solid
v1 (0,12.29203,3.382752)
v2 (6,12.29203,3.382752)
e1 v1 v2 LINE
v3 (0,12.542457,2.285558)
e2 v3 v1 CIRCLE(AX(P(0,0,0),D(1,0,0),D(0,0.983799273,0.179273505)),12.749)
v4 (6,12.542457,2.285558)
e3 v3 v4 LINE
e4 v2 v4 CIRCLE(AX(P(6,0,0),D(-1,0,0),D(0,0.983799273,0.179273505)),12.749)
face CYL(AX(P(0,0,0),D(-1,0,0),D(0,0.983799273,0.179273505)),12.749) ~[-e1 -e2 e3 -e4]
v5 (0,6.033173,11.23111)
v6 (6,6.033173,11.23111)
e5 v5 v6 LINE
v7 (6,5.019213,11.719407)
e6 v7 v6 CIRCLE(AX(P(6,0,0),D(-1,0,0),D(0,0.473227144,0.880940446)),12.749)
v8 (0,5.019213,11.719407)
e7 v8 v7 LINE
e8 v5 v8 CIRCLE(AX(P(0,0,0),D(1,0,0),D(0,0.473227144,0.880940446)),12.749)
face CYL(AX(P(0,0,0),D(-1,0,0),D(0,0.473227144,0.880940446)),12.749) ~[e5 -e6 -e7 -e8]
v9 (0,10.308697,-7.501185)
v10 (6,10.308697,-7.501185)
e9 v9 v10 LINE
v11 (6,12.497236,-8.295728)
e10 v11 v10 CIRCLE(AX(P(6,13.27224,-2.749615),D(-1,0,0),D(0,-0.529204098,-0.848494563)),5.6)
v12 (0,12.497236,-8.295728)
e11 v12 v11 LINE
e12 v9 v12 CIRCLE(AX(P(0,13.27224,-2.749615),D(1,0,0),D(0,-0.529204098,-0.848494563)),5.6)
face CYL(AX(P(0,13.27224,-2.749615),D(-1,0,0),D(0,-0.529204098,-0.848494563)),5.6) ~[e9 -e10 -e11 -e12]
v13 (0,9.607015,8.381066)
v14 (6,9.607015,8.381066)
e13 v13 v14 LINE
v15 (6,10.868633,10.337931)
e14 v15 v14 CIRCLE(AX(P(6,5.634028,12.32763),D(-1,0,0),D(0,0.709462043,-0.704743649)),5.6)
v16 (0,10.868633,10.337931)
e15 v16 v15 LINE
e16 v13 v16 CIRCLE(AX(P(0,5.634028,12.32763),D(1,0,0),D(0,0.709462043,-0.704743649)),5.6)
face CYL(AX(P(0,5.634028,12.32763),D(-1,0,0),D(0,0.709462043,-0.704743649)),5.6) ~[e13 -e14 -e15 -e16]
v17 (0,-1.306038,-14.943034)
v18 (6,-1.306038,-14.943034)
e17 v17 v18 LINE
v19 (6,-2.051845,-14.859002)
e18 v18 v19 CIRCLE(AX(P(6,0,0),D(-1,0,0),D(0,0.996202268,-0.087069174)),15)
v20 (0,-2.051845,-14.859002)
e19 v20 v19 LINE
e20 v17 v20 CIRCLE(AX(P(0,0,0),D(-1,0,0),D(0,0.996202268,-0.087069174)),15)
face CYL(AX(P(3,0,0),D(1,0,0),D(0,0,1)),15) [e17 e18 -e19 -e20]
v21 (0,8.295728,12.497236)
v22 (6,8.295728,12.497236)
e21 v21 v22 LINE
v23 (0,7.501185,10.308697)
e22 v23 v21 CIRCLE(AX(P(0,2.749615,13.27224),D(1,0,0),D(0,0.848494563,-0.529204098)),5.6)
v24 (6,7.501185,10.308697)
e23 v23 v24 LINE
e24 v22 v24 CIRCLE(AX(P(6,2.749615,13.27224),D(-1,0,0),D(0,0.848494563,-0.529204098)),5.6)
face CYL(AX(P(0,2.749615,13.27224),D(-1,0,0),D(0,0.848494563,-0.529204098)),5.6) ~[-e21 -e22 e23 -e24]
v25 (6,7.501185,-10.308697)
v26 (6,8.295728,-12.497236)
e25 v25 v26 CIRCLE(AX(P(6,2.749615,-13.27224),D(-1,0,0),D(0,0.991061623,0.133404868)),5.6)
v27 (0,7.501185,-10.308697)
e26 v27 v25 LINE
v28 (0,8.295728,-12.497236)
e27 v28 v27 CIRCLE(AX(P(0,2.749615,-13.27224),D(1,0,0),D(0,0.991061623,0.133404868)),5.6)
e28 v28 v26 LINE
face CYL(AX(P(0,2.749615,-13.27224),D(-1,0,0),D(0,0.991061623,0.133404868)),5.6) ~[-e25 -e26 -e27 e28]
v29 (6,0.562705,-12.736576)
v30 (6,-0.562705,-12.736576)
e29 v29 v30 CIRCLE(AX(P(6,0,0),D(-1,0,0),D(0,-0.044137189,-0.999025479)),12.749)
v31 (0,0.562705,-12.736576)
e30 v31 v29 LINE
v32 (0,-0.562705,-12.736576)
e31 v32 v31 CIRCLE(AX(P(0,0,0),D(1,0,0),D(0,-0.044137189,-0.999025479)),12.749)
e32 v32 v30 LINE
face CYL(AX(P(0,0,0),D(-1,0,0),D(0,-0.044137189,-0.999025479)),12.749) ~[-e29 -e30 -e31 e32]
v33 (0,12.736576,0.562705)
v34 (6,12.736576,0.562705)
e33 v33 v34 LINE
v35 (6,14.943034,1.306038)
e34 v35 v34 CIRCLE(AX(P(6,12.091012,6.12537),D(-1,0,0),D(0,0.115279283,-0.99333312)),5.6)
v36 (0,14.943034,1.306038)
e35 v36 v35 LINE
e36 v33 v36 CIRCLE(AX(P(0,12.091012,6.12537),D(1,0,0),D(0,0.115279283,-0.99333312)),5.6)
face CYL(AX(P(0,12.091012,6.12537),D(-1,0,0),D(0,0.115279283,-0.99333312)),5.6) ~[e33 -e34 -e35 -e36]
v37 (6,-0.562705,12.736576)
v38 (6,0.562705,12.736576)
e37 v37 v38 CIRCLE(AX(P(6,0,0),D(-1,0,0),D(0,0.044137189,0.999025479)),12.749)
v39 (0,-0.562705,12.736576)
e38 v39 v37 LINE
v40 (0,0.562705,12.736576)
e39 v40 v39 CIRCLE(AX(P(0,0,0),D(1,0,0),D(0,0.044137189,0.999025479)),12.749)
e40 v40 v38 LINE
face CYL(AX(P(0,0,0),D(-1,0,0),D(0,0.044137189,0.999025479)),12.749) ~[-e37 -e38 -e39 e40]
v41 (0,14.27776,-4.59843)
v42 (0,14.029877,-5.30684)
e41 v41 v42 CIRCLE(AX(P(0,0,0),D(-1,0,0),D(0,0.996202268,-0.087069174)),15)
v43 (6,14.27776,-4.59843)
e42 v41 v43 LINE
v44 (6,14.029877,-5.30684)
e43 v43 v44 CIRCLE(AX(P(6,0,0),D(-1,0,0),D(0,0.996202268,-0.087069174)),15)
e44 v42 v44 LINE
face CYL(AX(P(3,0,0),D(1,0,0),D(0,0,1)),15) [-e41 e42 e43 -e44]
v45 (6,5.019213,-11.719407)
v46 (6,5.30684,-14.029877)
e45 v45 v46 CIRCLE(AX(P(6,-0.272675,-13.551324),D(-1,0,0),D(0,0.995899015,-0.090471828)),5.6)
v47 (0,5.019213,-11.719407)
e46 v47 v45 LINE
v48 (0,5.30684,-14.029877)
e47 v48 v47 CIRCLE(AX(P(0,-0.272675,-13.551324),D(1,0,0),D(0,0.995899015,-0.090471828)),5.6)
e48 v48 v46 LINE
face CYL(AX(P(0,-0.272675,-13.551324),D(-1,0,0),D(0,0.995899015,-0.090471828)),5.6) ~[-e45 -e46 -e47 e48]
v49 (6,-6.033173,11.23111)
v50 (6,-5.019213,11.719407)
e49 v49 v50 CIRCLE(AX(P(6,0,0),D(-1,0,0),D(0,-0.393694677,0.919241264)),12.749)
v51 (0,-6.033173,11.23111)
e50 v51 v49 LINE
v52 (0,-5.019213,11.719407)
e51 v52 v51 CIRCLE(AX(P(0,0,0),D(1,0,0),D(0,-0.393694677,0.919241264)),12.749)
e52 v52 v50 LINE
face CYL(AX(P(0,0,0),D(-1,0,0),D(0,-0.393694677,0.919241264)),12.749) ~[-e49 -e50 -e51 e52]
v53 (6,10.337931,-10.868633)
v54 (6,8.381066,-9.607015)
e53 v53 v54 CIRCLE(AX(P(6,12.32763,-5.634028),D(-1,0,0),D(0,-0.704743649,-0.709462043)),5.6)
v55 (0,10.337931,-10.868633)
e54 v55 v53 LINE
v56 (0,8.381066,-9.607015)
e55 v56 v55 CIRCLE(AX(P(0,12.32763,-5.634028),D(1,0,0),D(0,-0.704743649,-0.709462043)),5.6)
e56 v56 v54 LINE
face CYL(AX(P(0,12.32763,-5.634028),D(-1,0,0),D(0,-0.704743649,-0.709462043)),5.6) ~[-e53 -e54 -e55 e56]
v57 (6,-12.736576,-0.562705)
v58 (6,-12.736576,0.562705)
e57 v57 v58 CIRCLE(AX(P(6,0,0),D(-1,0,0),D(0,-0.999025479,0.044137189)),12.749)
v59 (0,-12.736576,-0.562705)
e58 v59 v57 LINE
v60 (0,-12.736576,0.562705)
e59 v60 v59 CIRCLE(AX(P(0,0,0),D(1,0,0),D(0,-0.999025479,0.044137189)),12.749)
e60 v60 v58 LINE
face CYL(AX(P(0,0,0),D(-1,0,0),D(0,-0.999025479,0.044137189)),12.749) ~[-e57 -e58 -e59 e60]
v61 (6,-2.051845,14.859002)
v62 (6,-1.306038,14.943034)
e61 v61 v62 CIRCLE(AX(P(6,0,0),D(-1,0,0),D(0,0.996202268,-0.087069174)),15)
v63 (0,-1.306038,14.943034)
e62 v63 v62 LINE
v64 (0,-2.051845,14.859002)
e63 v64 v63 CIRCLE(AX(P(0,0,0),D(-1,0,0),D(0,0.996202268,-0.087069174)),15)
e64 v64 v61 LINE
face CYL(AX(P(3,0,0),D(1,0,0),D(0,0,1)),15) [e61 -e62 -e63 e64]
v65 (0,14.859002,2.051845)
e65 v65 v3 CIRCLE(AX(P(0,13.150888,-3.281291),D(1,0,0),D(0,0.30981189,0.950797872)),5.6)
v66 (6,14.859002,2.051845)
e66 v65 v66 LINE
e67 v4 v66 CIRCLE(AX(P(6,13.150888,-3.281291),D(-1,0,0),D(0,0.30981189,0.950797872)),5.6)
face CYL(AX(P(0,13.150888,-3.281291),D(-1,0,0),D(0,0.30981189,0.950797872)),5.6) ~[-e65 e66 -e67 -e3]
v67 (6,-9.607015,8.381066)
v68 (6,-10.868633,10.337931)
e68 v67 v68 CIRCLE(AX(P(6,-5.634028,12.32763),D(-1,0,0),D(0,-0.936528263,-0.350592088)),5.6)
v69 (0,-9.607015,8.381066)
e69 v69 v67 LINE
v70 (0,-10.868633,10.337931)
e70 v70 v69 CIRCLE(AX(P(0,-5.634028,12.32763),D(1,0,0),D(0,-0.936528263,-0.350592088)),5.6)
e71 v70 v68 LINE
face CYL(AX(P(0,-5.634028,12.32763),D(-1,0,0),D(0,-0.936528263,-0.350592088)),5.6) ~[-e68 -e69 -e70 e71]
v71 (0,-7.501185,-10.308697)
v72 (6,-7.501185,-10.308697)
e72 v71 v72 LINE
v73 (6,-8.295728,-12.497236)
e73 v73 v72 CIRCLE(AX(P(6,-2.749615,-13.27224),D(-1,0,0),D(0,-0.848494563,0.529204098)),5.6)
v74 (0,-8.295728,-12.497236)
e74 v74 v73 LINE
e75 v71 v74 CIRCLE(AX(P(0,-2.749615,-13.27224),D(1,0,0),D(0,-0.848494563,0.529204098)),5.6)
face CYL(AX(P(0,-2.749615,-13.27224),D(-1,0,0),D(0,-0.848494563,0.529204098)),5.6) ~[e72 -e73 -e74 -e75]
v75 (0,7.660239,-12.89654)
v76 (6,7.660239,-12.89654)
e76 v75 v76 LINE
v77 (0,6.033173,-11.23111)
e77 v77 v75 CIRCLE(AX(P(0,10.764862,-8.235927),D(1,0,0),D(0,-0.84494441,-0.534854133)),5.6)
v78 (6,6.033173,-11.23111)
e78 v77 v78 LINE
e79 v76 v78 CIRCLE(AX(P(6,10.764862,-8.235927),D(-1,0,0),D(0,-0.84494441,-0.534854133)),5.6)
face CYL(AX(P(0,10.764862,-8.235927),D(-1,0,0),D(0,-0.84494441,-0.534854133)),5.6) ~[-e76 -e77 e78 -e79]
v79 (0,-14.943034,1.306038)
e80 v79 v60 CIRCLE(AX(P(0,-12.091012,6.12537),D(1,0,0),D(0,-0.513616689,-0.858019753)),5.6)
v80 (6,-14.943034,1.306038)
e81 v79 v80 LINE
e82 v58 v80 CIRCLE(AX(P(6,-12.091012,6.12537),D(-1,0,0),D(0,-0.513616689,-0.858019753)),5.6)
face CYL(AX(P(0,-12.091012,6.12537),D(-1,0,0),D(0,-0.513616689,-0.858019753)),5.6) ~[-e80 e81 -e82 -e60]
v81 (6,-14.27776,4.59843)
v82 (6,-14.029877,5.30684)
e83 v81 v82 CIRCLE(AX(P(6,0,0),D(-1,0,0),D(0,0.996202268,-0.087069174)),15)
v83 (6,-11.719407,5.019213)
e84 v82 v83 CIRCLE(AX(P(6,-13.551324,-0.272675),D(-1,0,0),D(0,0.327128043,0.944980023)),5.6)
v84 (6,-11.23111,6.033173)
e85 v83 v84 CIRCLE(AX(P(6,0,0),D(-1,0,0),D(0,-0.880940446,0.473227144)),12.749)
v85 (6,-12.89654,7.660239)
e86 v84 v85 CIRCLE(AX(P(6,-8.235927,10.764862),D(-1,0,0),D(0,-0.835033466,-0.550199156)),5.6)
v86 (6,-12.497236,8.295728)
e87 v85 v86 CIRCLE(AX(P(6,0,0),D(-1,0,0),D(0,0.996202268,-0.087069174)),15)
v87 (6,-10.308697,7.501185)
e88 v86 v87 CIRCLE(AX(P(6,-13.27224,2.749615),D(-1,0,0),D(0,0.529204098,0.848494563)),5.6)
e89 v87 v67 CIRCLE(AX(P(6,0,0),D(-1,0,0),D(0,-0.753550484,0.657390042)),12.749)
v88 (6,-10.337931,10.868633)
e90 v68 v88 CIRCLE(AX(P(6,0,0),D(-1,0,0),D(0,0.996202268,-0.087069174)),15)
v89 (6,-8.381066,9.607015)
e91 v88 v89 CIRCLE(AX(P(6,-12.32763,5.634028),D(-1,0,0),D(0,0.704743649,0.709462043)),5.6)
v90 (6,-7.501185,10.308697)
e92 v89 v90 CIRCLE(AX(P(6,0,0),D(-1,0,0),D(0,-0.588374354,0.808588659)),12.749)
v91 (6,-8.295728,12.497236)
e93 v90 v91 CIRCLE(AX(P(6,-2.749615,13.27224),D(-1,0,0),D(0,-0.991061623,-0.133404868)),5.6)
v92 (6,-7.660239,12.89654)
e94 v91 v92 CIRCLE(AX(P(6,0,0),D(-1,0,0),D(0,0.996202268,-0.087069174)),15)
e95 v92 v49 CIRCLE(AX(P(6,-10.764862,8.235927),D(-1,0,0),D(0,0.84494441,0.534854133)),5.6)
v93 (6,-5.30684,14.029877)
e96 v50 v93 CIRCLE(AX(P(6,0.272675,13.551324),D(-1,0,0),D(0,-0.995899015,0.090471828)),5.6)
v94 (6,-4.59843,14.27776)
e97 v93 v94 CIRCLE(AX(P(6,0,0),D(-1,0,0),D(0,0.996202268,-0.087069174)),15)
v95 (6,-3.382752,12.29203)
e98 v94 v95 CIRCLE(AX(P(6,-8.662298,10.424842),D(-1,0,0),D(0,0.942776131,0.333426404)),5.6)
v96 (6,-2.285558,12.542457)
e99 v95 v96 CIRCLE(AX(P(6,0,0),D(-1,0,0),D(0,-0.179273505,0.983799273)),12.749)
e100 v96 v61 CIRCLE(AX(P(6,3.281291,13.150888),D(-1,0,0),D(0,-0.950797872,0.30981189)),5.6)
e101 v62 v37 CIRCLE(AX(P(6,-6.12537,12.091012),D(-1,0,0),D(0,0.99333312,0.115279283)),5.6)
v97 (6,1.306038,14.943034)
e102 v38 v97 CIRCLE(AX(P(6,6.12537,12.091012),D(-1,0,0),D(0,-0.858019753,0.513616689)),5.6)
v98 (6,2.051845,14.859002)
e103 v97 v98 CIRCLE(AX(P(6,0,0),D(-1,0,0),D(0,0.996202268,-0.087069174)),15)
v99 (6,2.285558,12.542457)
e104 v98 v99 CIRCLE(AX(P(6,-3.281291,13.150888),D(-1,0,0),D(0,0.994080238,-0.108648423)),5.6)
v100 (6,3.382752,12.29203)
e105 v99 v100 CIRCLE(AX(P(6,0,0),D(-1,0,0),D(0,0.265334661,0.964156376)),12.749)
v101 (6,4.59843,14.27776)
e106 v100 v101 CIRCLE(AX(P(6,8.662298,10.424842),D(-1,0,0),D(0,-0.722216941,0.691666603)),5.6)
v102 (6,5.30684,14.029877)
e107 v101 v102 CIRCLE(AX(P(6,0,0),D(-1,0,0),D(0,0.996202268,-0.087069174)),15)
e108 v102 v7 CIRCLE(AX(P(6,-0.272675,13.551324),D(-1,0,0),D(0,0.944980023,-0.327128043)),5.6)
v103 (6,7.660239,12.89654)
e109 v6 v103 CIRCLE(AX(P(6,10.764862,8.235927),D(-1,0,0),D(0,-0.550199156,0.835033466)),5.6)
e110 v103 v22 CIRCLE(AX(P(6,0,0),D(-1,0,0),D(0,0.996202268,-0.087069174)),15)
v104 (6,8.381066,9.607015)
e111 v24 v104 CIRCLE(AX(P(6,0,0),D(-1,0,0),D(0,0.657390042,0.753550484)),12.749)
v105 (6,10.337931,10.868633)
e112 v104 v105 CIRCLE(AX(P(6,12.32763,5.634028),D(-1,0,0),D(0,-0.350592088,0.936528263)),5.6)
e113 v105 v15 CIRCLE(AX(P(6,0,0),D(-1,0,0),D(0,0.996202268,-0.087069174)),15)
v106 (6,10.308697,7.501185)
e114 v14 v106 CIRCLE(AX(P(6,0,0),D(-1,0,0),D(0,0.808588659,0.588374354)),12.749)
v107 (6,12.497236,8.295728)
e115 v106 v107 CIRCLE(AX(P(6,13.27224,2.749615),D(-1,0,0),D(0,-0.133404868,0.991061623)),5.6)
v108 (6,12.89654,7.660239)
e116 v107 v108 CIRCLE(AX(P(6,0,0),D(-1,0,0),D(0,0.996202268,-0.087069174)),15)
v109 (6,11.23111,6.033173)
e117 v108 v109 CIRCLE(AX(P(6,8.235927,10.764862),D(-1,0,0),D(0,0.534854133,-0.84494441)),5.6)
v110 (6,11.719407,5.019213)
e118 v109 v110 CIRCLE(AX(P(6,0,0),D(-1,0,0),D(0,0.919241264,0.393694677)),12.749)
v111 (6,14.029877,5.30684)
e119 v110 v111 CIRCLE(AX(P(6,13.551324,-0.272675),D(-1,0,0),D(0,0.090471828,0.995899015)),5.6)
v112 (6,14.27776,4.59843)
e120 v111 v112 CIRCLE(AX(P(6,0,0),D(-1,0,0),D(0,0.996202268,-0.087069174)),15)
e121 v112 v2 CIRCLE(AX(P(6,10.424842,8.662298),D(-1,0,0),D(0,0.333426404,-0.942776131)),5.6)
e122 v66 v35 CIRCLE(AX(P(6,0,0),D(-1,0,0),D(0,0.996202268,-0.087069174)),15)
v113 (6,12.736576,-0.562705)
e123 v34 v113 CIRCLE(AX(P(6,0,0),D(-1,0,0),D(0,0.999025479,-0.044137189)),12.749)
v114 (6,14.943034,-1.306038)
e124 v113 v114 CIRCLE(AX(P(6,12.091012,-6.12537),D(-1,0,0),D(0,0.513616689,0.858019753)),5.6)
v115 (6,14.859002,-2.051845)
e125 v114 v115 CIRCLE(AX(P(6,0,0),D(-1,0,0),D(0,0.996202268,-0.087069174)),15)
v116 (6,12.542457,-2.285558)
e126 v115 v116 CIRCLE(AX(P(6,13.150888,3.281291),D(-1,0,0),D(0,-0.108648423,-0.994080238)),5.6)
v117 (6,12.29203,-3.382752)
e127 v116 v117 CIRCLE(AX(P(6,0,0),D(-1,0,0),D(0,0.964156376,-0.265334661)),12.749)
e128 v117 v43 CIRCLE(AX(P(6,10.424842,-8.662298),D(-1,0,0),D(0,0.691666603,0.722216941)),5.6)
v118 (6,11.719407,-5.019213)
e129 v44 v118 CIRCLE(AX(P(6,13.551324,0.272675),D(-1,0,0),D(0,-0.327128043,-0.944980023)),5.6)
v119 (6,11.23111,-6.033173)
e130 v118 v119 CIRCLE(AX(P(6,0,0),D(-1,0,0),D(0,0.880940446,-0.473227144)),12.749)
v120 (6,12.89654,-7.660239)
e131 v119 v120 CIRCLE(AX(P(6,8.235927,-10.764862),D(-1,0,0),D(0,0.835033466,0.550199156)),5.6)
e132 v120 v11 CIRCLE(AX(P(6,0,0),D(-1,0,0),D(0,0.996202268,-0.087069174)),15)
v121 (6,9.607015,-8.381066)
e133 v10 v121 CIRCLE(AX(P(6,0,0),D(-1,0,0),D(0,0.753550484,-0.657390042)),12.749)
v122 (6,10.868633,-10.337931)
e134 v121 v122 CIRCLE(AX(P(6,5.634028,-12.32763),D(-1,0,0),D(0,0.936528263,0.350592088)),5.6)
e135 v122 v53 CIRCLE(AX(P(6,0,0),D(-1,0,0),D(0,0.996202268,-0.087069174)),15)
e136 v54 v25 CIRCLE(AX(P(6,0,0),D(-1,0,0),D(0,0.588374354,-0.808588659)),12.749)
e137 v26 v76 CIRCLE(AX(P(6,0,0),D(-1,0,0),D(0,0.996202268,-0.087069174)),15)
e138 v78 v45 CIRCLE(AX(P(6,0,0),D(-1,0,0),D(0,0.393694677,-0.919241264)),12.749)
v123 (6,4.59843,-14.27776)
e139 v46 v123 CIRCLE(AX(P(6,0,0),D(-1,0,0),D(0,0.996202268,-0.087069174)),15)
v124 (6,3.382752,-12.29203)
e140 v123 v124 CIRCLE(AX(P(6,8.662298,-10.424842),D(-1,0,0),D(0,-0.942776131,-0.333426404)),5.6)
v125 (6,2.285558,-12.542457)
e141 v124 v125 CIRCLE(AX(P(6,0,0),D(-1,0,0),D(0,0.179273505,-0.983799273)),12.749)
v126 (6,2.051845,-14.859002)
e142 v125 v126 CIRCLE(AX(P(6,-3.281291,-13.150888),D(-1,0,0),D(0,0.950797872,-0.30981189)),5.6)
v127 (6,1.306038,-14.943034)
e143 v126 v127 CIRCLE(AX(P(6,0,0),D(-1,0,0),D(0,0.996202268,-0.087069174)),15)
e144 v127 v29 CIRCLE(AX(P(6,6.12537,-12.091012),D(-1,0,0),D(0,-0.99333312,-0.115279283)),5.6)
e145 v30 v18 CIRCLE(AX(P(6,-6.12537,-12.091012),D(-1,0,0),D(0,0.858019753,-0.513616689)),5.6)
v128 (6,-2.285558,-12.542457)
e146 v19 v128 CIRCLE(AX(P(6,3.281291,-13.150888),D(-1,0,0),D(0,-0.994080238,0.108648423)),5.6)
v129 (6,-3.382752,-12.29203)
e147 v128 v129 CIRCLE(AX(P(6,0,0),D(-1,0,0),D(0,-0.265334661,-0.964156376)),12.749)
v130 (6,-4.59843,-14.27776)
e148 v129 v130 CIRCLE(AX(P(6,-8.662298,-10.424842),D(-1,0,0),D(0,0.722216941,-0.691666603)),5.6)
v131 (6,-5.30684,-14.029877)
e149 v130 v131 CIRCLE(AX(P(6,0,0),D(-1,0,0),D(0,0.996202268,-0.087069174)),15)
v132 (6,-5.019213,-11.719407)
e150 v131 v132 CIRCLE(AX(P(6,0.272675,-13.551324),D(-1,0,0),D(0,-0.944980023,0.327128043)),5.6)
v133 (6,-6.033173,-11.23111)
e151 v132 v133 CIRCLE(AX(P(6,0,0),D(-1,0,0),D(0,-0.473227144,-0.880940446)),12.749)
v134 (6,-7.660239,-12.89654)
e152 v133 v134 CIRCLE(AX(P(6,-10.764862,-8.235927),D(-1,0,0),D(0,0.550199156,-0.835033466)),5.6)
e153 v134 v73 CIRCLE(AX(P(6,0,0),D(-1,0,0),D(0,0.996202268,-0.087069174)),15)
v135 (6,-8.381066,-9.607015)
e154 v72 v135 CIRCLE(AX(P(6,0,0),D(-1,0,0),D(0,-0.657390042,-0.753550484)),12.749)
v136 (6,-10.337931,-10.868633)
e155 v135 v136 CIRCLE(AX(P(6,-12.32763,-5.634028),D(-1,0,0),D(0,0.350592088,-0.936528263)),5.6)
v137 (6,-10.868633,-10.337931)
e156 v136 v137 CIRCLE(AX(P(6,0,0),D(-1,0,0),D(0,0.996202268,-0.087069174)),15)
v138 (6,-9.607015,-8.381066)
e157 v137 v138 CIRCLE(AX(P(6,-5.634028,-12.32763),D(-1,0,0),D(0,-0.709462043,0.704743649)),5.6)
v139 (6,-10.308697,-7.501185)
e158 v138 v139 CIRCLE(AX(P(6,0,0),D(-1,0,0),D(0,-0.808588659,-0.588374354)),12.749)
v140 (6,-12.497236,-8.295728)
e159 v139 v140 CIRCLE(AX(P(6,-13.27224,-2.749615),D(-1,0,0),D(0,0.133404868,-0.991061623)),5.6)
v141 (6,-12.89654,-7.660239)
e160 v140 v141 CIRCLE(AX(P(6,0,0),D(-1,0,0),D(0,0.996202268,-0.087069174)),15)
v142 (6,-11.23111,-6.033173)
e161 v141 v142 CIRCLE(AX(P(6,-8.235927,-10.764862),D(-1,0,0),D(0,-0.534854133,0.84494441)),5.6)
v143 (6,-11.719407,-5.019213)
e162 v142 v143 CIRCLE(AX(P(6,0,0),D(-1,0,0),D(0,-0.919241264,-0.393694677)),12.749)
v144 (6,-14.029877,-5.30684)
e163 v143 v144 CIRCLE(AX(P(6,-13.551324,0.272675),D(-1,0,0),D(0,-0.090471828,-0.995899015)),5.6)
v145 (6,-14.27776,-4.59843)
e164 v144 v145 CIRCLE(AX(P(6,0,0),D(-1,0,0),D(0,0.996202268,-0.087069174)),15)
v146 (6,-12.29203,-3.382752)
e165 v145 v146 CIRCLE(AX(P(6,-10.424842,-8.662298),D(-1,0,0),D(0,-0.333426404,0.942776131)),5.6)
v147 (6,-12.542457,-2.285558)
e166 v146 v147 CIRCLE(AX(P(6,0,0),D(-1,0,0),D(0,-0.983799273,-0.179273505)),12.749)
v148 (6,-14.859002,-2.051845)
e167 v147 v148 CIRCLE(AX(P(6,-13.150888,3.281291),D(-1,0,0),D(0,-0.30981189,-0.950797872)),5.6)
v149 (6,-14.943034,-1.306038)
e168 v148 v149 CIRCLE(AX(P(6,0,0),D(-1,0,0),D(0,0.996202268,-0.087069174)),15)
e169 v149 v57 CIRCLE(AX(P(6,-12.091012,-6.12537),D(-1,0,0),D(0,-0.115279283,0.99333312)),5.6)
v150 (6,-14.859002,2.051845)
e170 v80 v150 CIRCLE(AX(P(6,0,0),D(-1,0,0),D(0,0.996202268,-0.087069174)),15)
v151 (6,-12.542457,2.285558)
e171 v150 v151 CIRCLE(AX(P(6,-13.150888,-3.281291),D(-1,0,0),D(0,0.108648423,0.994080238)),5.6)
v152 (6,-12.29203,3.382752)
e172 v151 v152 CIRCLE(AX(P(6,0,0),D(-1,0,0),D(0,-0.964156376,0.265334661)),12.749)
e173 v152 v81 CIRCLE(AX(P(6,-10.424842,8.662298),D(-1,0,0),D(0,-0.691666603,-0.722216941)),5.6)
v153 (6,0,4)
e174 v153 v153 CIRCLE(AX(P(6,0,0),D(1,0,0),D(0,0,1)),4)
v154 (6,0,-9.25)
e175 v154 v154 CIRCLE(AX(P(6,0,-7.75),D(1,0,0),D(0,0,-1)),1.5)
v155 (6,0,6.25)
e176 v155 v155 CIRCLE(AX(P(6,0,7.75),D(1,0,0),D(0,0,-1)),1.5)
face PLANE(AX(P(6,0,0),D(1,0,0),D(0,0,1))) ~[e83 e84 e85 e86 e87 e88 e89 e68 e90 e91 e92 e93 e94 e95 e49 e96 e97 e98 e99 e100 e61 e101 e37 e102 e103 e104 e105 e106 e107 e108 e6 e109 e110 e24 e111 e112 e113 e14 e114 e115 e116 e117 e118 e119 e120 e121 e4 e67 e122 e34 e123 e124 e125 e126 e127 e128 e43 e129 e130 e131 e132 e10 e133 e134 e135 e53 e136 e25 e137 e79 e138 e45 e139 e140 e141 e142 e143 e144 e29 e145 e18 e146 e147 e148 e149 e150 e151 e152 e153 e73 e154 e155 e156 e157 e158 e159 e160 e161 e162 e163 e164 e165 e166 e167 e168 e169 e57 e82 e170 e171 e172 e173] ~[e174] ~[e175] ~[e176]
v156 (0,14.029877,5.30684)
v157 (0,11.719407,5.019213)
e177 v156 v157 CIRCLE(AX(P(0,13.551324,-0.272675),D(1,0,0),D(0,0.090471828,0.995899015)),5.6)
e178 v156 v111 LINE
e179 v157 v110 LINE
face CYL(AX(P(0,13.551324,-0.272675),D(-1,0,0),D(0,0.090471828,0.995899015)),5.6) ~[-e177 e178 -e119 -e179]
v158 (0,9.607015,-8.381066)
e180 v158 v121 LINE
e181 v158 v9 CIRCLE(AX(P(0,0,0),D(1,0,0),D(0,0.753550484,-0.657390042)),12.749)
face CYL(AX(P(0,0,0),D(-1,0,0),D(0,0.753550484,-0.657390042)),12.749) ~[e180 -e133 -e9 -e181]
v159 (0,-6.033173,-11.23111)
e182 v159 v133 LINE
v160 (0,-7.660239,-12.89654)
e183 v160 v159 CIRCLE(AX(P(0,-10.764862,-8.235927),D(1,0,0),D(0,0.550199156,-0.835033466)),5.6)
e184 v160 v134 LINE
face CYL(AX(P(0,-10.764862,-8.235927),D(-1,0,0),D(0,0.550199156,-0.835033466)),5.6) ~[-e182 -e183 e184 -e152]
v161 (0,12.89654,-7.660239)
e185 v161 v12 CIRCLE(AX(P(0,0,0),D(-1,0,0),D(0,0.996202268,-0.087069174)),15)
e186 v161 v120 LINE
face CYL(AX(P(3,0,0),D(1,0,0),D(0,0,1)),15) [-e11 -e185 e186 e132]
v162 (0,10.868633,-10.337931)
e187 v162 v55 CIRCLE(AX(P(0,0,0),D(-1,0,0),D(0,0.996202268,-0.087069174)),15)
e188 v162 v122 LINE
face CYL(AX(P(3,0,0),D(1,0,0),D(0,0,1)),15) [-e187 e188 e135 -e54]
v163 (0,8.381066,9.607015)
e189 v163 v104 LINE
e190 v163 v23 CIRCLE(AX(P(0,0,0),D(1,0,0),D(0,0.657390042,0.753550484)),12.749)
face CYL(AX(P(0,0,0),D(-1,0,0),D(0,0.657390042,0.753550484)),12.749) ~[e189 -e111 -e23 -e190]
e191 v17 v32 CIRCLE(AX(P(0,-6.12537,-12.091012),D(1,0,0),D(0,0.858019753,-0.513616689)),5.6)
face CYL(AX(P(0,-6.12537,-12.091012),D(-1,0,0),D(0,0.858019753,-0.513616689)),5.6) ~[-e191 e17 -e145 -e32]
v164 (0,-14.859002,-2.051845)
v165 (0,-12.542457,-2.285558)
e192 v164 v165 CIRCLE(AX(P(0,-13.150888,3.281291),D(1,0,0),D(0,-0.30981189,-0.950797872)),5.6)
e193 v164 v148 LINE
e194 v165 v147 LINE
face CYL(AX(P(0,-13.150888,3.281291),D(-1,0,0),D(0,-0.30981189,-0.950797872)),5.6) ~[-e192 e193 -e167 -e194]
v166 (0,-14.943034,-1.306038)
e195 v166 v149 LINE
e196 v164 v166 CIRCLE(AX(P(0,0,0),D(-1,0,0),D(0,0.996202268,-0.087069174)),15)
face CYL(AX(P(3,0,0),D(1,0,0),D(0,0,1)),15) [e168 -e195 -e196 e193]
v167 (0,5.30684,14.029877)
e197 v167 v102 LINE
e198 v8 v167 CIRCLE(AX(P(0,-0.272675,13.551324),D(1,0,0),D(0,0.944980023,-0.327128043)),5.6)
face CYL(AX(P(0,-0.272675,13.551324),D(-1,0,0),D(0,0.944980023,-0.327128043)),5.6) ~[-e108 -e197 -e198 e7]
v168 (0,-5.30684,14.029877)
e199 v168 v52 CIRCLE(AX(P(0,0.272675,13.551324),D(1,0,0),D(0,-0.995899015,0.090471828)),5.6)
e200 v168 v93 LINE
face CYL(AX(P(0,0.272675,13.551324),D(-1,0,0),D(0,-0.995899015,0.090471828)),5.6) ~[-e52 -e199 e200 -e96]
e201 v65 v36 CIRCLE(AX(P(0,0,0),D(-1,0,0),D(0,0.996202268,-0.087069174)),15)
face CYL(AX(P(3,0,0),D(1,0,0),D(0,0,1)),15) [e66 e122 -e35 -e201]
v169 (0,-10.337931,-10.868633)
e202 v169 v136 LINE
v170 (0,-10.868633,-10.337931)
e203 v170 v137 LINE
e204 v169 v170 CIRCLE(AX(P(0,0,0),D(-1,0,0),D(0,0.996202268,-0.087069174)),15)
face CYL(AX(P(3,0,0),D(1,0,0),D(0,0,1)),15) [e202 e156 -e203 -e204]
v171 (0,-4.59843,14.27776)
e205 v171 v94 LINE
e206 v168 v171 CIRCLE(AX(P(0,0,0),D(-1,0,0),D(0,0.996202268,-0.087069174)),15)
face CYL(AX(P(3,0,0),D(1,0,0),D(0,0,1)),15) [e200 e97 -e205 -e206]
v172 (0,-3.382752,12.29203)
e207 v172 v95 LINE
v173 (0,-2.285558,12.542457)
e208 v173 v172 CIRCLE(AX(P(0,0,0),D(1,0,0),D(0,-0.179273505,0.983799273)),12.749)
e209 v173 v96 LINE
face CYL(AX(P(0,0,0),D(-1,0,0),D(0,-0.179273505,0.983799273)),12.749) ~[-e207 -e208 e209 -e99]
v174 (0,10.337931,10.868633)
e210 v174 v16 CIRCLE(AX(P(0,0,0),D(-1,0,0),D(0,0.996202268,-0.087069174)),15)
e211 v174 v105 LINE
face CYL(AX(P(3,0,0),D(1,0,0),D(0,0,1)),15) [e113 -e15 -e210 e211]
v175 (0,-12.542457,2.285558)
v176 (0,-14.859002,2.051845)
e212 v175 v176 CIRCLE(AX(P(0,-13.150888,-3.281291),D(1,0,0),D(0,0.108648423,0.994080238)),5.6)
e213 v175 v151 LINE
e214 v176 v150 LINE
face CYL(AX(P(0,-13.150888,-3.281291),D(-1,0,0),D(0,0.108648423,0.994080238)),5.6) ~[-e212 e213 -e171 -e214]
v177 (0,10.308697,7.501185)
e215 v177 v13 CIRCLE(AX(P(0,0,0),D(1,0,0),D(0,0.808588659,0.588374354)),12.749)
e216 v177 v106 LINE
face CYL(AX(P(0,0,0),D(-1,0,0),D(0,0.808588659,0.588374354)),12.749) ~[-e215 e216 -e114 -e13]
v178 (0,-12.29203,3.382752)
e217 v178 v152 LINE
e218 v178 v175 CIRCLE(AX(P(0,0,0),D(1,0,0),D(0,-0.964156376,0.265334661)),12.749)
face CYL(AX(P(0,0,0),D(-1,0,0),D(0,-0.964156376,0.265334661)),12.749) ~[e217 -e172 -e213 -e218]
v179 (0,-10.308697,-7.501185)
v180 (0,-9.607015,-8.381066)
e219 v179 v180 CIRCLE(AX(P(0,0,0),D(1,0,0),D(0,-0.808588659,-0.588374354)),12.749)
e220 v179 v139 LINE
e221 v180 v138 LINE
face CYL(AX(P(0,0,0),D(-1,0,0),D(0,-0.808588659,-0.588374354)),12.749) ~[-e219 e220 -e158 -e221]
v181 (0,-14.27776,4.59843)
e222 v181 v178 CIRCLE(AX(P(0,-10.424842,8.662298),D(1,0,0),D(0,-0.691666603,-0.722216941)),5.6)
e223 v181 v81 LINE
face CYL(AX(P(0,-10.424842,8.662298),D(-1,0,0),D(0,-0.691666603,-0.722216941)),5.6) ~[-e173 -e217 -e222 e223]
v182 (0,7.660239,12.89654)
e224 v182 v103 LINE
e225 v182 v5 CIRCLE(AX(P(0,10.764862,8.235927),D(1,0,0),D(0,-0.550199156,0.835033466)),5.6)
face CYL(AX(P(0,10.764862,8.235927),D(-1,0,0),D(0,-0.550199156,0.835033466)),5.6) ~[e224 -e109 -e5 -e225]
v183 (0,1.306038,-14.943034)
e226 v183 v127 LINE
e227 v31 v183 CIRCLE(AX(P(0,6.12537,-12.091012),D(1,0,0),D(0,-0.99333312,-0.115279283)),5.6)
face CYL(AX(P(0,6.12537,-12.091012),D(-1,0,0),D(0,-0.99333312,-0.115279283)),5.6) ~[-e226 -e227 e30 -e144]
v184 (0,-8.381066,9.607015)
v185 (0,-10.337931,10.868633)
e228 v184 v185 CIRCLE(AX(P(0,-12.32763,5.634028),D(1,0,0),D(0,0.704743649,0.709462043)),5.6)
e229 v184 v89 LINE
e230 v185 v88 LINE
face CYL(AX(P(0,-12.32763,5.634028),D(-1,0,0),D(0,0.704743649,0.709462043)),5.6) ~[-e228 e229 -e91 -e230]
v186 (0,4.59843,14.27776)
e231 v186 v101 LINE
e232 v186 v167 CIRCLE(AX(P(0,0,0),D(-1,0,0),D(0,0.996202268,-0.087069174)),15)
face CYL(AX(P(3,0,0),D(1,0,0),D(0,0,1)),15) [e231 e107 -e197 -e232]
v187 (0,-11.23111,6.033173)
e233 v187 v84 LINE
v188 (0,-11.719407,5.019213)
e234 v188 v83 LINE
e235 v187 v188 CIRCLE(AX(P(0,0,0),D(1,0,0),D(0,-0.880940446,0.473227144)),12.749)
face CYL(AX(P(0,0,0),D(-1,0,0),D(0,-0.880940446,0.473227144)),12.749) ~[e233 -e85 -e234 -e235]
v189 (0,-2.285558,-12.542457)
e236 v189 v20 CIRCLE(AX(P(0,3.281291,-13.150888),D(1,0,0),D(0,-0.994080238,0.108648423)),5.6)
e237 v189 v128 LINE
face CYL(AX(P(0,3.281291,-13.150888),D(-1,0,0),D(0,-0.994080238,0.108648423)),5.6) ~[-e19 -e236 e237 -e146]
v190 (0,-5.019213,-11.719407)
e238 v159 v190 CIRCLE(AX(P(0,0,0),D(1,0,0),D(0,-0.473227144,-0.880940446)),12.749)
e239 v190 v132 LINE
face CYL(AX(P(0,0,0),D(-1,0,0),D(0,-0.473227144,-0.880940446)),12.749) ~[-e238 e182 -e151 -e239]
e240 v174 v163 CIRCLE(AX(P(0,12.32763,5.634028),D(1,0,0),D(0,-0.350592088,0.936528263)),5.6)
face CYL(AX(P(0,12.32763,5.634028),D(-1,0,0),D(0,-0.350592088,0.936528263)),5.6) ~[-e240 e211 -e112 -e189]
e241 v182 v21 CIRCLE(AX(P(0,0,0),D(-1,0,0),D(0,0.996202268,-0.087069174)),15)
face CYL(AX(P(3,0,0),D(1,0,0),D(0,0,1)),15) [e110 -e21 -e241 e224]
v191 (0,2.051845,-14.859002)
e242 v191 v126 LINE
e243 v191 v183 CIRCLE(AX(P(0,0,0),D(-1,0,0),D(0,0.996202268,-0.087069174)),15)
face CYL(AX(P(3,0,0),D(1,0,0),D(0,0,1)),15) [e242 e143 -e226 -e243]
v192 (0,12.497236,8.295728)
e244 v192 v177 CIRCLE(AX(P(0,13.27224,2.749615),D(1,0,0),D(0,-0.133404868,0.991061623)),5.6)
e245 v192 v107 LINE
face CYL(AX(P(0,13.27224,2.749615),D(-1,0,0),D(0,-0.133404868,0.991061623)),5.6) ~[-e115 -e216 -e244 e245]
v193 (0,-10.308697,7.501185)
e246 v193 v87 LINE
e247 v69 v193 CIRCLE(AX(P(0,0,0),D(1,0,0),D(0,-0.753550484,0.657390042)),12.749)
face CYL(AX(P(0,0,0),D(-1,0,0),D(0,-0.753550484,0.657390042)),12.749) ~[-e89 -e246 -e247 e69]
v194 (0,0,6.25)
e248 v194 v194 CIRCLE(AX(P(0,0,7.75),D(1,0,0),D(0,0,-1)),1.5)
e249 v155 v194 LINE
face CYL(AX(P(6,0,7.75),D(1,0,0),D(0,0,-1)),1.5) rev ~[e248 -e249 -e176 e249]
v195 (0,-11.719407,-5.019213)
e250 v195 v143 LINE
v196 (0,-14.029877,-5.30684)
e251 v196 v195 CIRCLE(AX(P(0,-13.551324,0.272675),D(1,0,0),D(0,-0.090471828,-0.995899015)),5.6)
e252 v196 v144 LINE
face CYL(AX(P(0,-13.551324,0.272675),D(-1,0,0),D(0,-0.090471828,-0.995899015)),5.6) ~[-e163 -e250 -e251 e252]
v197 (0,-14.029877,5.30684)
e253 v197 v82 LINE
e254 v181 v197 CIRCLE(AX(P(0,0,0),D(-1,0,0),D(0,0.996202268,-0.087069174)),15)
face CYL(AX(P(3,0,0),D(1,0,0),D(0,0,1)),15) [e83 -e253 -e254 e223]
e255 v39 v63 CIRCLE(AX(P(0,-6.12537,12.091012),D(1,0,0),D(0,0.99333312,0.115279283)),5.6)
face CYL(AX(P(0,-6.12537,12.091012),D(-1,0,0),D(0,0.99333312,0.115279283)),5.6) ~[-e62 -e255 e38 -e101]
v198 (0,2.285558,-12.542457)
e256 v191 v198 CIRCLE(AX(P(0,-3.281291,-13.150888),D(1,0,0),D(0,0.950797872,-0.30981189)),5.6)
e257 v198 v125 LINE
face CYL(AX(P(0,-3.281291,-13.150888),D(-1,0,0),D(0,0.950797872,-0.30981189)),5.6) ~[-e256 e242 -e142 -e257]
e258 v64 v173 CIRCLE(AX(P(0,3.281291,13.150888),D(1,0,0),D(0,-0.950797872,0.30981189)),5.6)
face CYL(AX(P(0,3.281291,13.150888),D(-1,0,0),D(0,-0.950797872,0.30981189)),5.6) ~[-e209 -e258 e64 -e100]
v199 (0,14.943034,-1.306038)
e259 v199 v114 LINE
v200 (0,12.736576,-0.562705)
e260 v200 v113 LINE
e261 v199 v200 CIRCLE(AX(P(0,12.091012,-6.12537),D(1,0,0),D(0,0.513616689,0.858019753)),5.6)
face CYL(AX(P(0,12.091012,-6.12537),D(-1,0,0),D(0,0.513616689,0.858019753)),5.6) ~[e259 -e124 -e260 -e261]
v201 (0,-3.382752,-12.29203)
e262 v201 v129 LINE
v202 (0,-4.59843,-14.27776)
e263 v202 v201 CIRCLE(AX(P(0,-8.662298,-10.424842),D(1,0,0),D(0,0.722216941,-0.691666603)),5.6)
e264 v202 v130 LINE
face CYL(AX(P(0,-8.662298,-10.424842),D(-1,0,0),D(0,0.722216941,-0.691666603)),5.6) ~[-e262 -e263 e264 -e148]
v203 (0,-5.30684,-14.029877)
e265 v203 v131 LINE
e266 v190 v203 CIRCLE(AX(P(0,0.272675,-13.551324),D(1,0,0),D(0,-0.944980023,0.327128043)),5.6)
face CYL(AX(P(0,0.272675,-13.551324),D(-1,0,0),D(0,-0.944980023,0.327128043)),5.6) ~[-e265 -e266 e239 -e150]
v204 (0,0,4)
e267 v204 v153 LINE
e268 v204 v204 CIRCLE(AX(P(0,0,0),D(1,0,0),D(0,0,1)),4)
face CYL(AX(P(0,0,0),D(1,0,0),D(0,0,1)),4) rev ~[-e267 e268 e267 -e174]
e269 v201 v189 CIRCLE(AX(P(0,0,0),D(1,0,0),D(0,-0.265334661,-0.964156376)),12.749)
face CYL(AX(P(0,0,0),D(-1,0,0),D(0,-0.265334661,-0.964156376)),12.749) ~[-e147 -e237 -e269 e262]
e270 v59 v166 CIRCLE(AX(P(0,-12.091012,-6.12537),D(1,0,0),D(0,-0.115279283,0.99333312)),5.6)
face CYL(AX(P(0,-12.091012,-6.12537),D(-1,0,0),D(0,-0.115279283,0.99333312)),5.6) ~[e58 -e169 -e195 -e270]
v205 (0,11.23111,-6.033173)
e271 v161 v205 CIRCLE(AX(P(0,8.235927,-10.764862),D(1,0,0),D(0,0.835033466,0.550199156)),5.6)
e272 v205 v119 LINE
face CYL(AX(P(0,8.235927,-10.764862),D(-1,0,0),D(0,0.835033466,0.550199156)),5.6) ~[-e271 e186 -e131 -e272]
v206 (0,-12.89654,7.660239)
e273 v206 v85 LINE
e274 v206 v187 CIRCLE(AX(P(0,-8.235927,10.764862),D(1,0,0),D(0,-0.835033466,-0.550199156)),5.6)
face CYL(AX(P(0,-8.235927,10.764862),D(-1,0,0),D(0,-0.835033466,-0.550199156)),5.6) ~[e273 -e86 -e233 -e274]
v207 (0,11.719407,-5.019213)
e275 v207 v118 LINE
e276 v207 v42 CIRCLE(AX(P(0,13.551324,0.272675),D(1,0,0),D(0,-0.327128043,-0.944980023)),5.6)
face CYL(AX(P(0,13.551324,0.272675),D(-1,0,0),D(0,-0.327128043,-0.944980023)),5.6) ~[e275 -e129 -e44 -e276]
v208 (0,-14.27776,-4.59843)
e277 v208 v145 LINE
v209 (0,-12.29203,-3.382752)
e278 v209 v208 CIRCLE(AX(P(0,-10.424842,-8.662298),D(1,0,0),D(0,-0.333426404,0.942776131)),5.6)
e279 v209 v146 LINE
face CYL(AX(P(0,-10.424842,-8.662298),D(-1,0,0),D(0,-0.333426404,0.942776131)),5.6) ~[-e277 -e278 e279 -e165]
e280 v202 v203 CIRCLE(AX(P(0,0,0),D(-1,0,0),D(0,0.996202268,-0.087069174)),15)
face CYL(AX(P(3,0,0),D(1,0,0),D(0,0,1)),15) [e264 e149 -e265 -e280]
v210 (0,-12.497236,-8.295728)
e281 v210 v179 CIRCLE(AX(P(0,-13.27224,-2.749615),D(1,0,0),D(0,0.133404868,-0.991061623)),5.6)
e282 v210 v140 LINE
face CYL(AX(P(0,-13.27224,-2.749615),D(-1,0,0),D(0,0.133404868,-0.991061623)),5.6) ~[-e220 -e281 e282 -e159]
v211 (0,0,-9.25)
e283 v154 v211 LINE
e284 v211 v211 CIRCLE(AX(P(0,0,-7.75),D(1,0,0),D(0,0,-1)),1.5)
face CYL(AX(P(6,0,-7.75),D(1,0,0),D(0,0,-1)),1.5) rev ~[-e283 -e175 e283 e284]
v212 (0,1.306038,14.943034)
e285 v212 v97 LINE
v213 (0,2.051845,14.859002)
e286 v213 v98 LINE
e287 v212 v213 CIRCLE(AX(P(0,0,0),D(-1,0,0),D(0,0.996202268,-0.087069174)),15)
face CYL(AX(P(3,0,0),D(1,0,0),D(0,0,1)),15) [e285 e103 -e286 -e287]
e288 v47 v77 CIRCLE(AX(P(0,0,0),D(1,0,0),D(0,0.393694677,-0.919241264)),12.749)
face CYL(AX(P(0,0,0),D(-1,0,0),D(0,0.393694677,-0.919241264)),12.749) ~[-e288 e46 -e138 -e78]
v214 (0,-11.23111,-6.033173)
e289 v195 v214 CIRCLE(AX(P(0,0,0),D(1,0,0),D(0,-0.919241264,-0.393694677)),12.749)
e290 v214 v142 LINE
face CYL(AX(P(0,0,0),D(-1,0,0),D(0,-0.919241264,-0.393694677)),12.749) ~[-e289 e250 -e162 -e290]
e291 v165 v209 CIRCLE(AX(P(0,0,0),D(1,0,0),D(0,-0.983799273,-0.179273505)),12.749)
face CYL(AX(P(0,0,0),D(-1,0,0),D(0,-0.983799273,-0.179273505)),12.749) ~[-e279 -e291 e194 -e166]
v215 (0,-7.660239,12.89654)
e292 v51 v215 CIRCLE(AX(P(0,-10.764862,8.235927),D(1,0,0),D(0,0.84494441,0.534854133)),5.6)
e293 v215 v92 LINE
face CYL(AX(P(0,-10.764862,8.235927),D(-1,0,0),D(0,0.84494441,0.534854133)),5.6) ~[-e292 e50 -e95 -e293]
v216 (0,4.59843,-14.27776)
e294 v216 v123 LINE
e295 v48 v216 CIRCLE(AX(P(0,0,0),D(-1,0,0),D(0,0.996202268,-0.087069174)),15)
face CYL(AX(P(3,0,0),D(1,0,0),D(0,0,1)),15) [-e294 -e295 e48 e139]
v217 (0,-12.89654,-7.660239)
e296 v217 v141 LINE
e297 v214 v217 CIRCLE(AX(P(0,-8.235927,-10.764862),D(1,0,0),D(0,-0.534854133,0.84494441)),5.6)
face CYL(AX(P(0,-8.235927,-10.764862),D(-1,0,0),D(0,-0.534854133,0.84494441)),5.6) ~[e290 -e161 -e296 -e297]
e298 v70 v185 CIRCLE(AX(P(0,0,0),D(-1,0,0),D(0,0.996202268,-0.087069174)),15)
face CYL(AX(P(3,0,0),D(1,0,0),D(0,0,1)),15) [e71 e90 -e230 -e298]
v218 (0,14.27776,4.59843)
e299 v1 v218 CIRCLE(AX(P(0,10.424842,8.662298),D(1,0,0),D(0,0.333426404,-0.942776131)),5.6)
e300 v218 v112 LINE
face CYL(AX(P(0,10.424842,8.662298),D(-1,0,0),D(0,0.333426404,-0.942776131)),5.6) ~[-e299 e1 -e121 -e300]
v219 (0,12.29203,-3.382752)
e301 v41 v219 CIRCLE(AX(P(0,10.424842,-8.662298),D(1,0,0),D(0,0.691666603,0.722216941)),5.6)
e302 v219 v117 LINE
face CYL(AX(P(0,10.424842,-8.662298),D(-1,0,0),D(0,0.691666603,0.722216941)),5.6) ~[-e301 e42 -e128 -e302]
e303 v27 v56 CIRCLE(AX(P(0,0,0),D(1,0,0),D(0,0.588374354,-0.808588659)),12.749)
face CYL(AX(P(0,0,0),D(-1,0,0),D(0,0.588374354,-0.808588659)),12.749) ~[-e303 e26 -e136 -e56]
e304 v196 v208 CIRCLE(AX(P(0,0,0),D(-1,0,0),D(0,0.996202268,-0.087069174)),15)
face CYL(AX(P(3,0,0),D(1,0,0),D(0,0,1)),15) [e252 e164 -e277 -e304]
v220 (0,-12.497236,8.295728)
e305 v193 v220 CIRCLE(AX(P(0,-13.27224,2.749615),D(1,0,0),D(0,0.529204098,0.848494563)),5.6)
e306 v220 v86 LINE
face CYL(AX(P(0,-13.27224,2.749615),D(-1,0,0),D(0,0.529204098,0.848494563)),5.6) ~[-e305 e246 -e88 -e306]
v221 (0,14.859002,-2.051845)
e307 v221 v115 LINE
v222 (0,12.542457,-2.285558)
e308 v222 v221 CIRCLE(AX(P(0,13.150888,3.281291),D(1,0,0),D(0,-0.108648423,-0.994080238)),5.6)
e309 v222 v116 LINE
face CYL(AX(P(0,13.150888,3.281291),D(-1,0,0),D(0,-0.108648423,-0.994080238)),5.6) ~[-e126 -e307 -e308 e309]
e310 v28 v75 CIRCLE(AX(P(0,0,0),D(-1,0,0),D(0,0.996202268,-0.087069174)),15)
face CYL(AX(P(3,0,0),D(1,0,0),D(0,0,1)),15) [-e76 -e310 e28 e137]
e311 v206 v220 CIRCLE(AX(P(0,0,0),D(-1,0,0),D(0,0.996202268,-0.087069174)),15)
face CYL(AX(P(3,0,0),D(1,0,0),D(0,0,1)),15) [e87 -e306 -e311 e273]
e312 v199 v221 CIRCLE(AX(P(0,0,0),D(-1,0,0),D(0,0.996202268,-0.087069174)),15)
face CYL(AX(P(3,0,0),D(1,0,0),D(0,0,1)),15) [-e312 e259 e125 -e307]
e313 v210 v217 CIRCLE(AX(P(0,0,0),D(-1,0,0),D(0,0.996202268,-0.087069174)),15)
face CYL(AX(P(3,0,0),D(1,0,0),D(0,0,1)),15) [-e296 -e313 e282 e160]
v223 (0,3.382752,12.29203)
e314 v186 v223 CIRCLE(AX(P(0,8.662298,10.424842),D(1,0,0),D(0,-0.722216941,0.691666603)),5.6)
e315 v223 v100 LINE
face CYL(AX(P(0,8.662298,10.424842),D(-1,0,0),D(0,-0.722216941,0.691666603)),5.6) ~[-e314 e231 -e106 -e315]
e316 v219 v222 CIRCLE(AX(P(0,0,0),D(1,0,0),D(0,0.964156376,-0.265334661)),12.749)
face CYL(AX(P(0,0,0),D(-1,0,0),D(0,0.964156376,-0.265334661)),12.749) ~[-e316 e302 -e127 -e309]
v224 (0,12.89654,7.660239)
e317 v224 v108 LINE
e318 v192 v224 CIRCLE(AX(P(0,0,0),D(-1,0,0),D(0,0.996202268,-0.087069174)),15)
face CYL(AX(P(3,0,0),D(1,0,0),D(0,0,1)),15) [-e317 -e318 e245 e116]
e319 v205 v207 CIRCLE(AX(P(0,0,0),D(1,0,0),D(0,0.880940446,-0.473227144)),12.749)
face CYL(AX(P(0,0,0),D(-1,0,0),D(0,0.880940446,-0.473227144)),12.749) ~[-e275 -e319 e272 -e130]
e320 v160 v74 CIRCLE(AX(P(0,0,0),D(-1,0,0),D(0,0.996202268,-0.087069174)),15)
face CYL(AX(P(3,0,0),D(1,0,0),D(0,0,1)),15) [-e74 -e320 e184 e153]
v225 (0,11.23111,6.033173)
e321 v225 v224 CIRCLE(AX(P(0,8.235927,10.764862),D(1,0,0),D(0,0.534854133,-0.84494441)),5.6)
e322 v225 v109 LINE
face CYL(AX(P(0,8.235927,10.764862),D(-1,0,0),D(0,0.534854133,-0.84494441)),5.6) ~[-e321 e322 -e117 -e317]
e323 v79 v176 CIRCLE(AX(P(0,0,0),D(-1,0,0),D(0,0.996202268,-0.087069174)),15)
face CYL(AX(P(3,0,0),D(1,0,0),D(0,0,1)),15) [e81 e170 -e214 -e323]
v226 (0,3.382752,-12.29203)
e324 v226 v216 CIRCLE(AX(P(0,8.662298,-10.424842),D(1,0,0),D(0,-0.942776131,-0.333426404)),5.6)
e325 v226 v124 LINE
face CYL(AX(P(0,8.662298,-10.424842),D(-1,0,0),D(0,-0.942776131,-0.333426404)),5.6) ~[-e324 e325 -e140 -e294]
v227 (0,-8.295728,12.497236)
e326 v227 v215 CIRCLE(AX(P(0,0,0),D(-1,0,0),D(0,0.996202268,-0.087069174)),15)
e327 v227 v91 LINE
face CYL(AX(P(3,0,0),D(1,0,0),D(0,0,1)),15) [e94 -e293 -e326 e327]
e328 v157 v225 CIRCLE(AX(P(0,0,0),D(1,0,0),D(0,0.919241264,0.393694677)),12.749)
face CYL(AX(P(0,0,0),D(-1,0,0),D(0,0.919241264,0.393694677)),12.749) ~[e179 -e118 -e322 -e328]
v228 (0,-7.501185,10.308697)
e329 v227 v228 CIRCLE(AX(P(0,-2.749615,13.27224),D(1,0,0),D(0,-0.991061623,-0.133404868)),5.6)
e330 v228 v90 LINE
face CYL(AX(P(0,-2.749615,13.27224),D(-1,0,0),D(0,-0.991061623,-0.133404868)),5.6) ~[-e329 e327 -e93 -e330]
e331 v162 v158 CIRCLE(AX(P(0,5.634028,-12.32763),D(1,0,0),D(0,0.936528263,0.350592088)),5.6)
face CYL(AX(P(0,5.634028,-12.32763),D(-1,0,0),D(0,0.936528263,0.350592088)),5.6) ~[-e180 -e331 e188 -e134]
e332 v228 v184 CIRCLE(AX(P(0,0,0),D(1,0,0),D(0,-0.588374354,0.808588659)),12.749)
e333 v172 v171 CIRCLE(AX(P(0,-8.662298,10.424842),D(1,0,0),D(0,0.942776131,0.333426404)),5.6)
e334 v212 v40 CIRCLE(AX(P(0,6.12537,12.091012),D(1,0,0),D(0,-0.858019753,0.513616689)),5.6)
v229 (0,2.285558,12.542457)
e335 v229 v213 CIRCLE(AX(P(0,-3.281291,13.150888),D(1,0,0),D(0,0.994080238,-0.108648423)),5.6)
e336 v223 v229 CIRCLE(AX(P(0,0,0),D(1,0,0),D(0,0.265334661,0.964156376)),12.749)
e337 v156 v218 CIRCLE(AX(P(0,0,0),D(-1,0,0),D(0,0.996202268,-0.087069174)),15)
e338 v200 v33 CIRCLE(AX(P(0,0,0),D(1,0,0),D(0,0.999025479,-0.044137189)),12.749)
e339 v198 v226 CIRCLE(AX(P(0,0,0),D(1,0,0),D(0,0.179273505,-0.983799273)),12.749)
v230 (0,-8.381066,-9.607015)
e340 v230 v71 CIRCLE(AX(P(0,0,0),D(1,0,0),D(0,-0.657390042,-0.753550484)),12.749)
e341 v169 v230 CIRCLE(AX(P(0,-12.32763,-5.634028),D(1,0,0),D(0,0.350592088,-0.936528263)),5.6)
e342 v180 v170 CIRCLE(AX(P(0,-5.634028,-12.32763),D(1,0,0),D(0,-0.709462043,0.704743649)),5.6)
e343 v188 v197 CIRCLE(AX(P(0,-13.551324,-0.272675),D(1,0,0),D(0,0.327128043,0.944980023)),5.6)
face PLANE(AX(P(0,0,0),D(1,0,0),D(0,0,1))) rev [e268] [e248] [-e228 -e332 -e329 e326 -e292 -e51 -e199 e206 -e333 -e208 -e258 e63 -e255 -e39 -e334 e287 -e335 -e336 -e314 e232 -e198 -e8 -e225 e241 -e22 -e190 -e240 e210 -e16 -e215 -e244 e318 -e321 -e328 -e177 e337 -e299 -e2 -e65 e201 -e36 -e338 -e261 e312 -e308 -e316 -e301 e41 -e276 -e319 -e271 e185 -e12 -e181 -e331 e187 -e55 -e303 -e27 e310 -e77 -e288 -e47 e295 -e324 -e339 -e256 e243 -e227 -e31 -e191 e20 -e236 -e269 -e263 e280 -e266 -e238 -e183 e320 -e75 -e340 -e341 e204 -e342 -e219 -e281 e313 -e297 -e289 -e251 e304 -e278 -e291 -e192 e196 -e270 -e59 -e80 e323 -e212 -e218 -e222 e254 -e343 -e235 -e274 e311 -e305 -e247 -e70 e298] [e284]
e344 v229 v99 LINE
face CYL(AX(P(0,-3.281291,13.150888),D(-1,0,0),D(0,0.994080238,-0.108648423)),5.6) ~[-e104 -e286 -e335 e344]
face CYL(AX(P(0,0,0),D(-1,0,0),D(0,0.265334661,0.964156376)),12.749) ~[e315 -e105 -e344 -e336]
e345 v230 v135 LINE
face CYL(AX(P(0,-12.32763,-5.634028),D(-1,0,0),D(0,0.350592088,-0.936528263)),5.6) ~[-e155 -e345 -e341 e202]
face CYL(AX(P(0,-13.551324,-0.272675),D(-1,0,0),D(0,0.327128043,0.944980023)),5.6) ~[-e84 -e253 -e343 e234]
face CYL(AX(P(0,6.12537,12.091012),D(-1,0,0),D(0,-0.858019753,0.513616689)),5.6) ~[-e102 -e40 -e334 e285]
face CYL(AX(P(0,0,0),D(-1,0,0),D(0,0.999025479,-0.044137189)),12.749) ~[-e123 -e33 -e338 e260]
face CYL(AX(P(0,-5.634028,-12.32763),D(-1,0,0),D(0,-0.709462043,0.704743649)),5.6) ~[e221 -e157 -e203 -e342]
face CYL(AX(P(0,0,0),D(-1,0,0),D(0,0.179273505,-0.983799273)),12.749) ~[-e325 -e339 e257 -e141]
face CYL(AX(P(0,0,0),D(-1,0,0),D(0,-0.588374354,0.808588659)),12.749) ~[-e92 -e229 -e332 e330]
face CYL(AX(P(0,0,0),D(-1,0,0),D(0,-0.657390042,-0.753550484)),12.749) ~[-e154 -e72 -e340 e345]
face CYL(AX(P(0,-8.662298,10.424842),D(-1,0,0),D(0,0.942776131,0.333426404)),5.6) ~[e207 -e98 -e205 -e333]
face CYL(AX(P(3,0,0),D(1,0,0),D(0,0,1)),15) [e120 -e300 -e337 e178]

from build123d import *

# Parameters (mm, degrees)
BASPROSKE_W           = 6
BASPROSKE_H           = 15
TOOTHCUT_DEPTH        = 23.045407685
TEETHCUTS_COUNT       = 28
TEETHCUTS_ANGLE       = 347.142857143
BORSKE_R              = 4
BORE_DEPTH            = 50.0000508
CROQUIS1_R            = 1.5
CORTAR_EXTRUIR1_DEPTH = 10


with BuildPart() as part:
    # BasProSke → Base-Revolve (revolve)
    with BuildSketch(Plane(origin=(0, 0, 0), x_dir=(1, 0, 0), z_dir=(0, 1, 0)), mode=Mode.PRIVATE) as base_revolve_sk:
        with Locations((3, 7.5)):
            Rectangle(BASPROSKE_W, BASPROSKE_H)
    revolve(base_revolve_sk.sketch.rotate(Axis((-10, 0, 0), (1, 0, 0)), 180), axis=Axis((-10, 0, 0), (1, 0, 0)))

    # TooCutSke → ToothCut (cut, through all)
    with BuildSketch(Plane(origin=(0, 0, 0), x_dir=(0, 0, -1), z_dir=(1, 0, 0))):
        with BuildLine():
            ThreePointArc((0.562705027, 12.736575837), (0, 12.749), (-0.562705027, 12.736575837))
            ThreePointArc((-0.562705027, 12.736575837), (-0.822951015, 13.892219122), (-1.32045988, 14.96726531))
            ThreePointArc((-1.32045988, 14.96726531), (0, 15.0254), (1.32045988, 14.96726531))
            ThreePointArc((1.32045988, 14.96726531), (0.822951015, 13.892219122), (0.562705027, 12.736575837))
        make_face()
    toothcut = extrude(amount=TOOTHCUT_DEPTH, mode=Mode.SUBTRACT)

    # TeethCuts: ToothCut ×28 about axis
    teethcuts_axis = Axis((-10, 0, 0), (1, 0, 0))
    for i in range(1, TEETHCUTS_COUNT):
        add(toothcut.rotate(teethcuts_axis, i * TEETHCUTS_ANGLE / (TEETHCUTS_COUNT - 1)), mode=Mode.SUBTRACT)

    # BorSke → Bore (cut, symmetric)
    with BuildSketch(Plane(origin=(0, 0, 0), x_dir=(0, 0, -1), z_dir=(1, 0, 0))):
        with Locations(Location((0, 0, 0), (0, 0, 180))):
            Circle(BORSKE_R)
    extrude(amount=BORE_DEPTH, both=True, mode=Mode.SUBTRACT)

    # Croquis1 → Cortar-Extruir1 (cut)
    with BuildSketch(Plane(origin=(6, 0, 0), x_dir=(0, 0, -1), z_dir=(1, 0, 0))):
        with Locations((-7.75, 0)):
            Circle(CROQUIS1_R)
        with Locations((7.75, 0)):
            Circle(CROQUIS1_R)
    extrude(amount=-CORTAR_EXTRUIR1_DEPTH, mode=Mode.SUBTRACT)


solid = part.part
